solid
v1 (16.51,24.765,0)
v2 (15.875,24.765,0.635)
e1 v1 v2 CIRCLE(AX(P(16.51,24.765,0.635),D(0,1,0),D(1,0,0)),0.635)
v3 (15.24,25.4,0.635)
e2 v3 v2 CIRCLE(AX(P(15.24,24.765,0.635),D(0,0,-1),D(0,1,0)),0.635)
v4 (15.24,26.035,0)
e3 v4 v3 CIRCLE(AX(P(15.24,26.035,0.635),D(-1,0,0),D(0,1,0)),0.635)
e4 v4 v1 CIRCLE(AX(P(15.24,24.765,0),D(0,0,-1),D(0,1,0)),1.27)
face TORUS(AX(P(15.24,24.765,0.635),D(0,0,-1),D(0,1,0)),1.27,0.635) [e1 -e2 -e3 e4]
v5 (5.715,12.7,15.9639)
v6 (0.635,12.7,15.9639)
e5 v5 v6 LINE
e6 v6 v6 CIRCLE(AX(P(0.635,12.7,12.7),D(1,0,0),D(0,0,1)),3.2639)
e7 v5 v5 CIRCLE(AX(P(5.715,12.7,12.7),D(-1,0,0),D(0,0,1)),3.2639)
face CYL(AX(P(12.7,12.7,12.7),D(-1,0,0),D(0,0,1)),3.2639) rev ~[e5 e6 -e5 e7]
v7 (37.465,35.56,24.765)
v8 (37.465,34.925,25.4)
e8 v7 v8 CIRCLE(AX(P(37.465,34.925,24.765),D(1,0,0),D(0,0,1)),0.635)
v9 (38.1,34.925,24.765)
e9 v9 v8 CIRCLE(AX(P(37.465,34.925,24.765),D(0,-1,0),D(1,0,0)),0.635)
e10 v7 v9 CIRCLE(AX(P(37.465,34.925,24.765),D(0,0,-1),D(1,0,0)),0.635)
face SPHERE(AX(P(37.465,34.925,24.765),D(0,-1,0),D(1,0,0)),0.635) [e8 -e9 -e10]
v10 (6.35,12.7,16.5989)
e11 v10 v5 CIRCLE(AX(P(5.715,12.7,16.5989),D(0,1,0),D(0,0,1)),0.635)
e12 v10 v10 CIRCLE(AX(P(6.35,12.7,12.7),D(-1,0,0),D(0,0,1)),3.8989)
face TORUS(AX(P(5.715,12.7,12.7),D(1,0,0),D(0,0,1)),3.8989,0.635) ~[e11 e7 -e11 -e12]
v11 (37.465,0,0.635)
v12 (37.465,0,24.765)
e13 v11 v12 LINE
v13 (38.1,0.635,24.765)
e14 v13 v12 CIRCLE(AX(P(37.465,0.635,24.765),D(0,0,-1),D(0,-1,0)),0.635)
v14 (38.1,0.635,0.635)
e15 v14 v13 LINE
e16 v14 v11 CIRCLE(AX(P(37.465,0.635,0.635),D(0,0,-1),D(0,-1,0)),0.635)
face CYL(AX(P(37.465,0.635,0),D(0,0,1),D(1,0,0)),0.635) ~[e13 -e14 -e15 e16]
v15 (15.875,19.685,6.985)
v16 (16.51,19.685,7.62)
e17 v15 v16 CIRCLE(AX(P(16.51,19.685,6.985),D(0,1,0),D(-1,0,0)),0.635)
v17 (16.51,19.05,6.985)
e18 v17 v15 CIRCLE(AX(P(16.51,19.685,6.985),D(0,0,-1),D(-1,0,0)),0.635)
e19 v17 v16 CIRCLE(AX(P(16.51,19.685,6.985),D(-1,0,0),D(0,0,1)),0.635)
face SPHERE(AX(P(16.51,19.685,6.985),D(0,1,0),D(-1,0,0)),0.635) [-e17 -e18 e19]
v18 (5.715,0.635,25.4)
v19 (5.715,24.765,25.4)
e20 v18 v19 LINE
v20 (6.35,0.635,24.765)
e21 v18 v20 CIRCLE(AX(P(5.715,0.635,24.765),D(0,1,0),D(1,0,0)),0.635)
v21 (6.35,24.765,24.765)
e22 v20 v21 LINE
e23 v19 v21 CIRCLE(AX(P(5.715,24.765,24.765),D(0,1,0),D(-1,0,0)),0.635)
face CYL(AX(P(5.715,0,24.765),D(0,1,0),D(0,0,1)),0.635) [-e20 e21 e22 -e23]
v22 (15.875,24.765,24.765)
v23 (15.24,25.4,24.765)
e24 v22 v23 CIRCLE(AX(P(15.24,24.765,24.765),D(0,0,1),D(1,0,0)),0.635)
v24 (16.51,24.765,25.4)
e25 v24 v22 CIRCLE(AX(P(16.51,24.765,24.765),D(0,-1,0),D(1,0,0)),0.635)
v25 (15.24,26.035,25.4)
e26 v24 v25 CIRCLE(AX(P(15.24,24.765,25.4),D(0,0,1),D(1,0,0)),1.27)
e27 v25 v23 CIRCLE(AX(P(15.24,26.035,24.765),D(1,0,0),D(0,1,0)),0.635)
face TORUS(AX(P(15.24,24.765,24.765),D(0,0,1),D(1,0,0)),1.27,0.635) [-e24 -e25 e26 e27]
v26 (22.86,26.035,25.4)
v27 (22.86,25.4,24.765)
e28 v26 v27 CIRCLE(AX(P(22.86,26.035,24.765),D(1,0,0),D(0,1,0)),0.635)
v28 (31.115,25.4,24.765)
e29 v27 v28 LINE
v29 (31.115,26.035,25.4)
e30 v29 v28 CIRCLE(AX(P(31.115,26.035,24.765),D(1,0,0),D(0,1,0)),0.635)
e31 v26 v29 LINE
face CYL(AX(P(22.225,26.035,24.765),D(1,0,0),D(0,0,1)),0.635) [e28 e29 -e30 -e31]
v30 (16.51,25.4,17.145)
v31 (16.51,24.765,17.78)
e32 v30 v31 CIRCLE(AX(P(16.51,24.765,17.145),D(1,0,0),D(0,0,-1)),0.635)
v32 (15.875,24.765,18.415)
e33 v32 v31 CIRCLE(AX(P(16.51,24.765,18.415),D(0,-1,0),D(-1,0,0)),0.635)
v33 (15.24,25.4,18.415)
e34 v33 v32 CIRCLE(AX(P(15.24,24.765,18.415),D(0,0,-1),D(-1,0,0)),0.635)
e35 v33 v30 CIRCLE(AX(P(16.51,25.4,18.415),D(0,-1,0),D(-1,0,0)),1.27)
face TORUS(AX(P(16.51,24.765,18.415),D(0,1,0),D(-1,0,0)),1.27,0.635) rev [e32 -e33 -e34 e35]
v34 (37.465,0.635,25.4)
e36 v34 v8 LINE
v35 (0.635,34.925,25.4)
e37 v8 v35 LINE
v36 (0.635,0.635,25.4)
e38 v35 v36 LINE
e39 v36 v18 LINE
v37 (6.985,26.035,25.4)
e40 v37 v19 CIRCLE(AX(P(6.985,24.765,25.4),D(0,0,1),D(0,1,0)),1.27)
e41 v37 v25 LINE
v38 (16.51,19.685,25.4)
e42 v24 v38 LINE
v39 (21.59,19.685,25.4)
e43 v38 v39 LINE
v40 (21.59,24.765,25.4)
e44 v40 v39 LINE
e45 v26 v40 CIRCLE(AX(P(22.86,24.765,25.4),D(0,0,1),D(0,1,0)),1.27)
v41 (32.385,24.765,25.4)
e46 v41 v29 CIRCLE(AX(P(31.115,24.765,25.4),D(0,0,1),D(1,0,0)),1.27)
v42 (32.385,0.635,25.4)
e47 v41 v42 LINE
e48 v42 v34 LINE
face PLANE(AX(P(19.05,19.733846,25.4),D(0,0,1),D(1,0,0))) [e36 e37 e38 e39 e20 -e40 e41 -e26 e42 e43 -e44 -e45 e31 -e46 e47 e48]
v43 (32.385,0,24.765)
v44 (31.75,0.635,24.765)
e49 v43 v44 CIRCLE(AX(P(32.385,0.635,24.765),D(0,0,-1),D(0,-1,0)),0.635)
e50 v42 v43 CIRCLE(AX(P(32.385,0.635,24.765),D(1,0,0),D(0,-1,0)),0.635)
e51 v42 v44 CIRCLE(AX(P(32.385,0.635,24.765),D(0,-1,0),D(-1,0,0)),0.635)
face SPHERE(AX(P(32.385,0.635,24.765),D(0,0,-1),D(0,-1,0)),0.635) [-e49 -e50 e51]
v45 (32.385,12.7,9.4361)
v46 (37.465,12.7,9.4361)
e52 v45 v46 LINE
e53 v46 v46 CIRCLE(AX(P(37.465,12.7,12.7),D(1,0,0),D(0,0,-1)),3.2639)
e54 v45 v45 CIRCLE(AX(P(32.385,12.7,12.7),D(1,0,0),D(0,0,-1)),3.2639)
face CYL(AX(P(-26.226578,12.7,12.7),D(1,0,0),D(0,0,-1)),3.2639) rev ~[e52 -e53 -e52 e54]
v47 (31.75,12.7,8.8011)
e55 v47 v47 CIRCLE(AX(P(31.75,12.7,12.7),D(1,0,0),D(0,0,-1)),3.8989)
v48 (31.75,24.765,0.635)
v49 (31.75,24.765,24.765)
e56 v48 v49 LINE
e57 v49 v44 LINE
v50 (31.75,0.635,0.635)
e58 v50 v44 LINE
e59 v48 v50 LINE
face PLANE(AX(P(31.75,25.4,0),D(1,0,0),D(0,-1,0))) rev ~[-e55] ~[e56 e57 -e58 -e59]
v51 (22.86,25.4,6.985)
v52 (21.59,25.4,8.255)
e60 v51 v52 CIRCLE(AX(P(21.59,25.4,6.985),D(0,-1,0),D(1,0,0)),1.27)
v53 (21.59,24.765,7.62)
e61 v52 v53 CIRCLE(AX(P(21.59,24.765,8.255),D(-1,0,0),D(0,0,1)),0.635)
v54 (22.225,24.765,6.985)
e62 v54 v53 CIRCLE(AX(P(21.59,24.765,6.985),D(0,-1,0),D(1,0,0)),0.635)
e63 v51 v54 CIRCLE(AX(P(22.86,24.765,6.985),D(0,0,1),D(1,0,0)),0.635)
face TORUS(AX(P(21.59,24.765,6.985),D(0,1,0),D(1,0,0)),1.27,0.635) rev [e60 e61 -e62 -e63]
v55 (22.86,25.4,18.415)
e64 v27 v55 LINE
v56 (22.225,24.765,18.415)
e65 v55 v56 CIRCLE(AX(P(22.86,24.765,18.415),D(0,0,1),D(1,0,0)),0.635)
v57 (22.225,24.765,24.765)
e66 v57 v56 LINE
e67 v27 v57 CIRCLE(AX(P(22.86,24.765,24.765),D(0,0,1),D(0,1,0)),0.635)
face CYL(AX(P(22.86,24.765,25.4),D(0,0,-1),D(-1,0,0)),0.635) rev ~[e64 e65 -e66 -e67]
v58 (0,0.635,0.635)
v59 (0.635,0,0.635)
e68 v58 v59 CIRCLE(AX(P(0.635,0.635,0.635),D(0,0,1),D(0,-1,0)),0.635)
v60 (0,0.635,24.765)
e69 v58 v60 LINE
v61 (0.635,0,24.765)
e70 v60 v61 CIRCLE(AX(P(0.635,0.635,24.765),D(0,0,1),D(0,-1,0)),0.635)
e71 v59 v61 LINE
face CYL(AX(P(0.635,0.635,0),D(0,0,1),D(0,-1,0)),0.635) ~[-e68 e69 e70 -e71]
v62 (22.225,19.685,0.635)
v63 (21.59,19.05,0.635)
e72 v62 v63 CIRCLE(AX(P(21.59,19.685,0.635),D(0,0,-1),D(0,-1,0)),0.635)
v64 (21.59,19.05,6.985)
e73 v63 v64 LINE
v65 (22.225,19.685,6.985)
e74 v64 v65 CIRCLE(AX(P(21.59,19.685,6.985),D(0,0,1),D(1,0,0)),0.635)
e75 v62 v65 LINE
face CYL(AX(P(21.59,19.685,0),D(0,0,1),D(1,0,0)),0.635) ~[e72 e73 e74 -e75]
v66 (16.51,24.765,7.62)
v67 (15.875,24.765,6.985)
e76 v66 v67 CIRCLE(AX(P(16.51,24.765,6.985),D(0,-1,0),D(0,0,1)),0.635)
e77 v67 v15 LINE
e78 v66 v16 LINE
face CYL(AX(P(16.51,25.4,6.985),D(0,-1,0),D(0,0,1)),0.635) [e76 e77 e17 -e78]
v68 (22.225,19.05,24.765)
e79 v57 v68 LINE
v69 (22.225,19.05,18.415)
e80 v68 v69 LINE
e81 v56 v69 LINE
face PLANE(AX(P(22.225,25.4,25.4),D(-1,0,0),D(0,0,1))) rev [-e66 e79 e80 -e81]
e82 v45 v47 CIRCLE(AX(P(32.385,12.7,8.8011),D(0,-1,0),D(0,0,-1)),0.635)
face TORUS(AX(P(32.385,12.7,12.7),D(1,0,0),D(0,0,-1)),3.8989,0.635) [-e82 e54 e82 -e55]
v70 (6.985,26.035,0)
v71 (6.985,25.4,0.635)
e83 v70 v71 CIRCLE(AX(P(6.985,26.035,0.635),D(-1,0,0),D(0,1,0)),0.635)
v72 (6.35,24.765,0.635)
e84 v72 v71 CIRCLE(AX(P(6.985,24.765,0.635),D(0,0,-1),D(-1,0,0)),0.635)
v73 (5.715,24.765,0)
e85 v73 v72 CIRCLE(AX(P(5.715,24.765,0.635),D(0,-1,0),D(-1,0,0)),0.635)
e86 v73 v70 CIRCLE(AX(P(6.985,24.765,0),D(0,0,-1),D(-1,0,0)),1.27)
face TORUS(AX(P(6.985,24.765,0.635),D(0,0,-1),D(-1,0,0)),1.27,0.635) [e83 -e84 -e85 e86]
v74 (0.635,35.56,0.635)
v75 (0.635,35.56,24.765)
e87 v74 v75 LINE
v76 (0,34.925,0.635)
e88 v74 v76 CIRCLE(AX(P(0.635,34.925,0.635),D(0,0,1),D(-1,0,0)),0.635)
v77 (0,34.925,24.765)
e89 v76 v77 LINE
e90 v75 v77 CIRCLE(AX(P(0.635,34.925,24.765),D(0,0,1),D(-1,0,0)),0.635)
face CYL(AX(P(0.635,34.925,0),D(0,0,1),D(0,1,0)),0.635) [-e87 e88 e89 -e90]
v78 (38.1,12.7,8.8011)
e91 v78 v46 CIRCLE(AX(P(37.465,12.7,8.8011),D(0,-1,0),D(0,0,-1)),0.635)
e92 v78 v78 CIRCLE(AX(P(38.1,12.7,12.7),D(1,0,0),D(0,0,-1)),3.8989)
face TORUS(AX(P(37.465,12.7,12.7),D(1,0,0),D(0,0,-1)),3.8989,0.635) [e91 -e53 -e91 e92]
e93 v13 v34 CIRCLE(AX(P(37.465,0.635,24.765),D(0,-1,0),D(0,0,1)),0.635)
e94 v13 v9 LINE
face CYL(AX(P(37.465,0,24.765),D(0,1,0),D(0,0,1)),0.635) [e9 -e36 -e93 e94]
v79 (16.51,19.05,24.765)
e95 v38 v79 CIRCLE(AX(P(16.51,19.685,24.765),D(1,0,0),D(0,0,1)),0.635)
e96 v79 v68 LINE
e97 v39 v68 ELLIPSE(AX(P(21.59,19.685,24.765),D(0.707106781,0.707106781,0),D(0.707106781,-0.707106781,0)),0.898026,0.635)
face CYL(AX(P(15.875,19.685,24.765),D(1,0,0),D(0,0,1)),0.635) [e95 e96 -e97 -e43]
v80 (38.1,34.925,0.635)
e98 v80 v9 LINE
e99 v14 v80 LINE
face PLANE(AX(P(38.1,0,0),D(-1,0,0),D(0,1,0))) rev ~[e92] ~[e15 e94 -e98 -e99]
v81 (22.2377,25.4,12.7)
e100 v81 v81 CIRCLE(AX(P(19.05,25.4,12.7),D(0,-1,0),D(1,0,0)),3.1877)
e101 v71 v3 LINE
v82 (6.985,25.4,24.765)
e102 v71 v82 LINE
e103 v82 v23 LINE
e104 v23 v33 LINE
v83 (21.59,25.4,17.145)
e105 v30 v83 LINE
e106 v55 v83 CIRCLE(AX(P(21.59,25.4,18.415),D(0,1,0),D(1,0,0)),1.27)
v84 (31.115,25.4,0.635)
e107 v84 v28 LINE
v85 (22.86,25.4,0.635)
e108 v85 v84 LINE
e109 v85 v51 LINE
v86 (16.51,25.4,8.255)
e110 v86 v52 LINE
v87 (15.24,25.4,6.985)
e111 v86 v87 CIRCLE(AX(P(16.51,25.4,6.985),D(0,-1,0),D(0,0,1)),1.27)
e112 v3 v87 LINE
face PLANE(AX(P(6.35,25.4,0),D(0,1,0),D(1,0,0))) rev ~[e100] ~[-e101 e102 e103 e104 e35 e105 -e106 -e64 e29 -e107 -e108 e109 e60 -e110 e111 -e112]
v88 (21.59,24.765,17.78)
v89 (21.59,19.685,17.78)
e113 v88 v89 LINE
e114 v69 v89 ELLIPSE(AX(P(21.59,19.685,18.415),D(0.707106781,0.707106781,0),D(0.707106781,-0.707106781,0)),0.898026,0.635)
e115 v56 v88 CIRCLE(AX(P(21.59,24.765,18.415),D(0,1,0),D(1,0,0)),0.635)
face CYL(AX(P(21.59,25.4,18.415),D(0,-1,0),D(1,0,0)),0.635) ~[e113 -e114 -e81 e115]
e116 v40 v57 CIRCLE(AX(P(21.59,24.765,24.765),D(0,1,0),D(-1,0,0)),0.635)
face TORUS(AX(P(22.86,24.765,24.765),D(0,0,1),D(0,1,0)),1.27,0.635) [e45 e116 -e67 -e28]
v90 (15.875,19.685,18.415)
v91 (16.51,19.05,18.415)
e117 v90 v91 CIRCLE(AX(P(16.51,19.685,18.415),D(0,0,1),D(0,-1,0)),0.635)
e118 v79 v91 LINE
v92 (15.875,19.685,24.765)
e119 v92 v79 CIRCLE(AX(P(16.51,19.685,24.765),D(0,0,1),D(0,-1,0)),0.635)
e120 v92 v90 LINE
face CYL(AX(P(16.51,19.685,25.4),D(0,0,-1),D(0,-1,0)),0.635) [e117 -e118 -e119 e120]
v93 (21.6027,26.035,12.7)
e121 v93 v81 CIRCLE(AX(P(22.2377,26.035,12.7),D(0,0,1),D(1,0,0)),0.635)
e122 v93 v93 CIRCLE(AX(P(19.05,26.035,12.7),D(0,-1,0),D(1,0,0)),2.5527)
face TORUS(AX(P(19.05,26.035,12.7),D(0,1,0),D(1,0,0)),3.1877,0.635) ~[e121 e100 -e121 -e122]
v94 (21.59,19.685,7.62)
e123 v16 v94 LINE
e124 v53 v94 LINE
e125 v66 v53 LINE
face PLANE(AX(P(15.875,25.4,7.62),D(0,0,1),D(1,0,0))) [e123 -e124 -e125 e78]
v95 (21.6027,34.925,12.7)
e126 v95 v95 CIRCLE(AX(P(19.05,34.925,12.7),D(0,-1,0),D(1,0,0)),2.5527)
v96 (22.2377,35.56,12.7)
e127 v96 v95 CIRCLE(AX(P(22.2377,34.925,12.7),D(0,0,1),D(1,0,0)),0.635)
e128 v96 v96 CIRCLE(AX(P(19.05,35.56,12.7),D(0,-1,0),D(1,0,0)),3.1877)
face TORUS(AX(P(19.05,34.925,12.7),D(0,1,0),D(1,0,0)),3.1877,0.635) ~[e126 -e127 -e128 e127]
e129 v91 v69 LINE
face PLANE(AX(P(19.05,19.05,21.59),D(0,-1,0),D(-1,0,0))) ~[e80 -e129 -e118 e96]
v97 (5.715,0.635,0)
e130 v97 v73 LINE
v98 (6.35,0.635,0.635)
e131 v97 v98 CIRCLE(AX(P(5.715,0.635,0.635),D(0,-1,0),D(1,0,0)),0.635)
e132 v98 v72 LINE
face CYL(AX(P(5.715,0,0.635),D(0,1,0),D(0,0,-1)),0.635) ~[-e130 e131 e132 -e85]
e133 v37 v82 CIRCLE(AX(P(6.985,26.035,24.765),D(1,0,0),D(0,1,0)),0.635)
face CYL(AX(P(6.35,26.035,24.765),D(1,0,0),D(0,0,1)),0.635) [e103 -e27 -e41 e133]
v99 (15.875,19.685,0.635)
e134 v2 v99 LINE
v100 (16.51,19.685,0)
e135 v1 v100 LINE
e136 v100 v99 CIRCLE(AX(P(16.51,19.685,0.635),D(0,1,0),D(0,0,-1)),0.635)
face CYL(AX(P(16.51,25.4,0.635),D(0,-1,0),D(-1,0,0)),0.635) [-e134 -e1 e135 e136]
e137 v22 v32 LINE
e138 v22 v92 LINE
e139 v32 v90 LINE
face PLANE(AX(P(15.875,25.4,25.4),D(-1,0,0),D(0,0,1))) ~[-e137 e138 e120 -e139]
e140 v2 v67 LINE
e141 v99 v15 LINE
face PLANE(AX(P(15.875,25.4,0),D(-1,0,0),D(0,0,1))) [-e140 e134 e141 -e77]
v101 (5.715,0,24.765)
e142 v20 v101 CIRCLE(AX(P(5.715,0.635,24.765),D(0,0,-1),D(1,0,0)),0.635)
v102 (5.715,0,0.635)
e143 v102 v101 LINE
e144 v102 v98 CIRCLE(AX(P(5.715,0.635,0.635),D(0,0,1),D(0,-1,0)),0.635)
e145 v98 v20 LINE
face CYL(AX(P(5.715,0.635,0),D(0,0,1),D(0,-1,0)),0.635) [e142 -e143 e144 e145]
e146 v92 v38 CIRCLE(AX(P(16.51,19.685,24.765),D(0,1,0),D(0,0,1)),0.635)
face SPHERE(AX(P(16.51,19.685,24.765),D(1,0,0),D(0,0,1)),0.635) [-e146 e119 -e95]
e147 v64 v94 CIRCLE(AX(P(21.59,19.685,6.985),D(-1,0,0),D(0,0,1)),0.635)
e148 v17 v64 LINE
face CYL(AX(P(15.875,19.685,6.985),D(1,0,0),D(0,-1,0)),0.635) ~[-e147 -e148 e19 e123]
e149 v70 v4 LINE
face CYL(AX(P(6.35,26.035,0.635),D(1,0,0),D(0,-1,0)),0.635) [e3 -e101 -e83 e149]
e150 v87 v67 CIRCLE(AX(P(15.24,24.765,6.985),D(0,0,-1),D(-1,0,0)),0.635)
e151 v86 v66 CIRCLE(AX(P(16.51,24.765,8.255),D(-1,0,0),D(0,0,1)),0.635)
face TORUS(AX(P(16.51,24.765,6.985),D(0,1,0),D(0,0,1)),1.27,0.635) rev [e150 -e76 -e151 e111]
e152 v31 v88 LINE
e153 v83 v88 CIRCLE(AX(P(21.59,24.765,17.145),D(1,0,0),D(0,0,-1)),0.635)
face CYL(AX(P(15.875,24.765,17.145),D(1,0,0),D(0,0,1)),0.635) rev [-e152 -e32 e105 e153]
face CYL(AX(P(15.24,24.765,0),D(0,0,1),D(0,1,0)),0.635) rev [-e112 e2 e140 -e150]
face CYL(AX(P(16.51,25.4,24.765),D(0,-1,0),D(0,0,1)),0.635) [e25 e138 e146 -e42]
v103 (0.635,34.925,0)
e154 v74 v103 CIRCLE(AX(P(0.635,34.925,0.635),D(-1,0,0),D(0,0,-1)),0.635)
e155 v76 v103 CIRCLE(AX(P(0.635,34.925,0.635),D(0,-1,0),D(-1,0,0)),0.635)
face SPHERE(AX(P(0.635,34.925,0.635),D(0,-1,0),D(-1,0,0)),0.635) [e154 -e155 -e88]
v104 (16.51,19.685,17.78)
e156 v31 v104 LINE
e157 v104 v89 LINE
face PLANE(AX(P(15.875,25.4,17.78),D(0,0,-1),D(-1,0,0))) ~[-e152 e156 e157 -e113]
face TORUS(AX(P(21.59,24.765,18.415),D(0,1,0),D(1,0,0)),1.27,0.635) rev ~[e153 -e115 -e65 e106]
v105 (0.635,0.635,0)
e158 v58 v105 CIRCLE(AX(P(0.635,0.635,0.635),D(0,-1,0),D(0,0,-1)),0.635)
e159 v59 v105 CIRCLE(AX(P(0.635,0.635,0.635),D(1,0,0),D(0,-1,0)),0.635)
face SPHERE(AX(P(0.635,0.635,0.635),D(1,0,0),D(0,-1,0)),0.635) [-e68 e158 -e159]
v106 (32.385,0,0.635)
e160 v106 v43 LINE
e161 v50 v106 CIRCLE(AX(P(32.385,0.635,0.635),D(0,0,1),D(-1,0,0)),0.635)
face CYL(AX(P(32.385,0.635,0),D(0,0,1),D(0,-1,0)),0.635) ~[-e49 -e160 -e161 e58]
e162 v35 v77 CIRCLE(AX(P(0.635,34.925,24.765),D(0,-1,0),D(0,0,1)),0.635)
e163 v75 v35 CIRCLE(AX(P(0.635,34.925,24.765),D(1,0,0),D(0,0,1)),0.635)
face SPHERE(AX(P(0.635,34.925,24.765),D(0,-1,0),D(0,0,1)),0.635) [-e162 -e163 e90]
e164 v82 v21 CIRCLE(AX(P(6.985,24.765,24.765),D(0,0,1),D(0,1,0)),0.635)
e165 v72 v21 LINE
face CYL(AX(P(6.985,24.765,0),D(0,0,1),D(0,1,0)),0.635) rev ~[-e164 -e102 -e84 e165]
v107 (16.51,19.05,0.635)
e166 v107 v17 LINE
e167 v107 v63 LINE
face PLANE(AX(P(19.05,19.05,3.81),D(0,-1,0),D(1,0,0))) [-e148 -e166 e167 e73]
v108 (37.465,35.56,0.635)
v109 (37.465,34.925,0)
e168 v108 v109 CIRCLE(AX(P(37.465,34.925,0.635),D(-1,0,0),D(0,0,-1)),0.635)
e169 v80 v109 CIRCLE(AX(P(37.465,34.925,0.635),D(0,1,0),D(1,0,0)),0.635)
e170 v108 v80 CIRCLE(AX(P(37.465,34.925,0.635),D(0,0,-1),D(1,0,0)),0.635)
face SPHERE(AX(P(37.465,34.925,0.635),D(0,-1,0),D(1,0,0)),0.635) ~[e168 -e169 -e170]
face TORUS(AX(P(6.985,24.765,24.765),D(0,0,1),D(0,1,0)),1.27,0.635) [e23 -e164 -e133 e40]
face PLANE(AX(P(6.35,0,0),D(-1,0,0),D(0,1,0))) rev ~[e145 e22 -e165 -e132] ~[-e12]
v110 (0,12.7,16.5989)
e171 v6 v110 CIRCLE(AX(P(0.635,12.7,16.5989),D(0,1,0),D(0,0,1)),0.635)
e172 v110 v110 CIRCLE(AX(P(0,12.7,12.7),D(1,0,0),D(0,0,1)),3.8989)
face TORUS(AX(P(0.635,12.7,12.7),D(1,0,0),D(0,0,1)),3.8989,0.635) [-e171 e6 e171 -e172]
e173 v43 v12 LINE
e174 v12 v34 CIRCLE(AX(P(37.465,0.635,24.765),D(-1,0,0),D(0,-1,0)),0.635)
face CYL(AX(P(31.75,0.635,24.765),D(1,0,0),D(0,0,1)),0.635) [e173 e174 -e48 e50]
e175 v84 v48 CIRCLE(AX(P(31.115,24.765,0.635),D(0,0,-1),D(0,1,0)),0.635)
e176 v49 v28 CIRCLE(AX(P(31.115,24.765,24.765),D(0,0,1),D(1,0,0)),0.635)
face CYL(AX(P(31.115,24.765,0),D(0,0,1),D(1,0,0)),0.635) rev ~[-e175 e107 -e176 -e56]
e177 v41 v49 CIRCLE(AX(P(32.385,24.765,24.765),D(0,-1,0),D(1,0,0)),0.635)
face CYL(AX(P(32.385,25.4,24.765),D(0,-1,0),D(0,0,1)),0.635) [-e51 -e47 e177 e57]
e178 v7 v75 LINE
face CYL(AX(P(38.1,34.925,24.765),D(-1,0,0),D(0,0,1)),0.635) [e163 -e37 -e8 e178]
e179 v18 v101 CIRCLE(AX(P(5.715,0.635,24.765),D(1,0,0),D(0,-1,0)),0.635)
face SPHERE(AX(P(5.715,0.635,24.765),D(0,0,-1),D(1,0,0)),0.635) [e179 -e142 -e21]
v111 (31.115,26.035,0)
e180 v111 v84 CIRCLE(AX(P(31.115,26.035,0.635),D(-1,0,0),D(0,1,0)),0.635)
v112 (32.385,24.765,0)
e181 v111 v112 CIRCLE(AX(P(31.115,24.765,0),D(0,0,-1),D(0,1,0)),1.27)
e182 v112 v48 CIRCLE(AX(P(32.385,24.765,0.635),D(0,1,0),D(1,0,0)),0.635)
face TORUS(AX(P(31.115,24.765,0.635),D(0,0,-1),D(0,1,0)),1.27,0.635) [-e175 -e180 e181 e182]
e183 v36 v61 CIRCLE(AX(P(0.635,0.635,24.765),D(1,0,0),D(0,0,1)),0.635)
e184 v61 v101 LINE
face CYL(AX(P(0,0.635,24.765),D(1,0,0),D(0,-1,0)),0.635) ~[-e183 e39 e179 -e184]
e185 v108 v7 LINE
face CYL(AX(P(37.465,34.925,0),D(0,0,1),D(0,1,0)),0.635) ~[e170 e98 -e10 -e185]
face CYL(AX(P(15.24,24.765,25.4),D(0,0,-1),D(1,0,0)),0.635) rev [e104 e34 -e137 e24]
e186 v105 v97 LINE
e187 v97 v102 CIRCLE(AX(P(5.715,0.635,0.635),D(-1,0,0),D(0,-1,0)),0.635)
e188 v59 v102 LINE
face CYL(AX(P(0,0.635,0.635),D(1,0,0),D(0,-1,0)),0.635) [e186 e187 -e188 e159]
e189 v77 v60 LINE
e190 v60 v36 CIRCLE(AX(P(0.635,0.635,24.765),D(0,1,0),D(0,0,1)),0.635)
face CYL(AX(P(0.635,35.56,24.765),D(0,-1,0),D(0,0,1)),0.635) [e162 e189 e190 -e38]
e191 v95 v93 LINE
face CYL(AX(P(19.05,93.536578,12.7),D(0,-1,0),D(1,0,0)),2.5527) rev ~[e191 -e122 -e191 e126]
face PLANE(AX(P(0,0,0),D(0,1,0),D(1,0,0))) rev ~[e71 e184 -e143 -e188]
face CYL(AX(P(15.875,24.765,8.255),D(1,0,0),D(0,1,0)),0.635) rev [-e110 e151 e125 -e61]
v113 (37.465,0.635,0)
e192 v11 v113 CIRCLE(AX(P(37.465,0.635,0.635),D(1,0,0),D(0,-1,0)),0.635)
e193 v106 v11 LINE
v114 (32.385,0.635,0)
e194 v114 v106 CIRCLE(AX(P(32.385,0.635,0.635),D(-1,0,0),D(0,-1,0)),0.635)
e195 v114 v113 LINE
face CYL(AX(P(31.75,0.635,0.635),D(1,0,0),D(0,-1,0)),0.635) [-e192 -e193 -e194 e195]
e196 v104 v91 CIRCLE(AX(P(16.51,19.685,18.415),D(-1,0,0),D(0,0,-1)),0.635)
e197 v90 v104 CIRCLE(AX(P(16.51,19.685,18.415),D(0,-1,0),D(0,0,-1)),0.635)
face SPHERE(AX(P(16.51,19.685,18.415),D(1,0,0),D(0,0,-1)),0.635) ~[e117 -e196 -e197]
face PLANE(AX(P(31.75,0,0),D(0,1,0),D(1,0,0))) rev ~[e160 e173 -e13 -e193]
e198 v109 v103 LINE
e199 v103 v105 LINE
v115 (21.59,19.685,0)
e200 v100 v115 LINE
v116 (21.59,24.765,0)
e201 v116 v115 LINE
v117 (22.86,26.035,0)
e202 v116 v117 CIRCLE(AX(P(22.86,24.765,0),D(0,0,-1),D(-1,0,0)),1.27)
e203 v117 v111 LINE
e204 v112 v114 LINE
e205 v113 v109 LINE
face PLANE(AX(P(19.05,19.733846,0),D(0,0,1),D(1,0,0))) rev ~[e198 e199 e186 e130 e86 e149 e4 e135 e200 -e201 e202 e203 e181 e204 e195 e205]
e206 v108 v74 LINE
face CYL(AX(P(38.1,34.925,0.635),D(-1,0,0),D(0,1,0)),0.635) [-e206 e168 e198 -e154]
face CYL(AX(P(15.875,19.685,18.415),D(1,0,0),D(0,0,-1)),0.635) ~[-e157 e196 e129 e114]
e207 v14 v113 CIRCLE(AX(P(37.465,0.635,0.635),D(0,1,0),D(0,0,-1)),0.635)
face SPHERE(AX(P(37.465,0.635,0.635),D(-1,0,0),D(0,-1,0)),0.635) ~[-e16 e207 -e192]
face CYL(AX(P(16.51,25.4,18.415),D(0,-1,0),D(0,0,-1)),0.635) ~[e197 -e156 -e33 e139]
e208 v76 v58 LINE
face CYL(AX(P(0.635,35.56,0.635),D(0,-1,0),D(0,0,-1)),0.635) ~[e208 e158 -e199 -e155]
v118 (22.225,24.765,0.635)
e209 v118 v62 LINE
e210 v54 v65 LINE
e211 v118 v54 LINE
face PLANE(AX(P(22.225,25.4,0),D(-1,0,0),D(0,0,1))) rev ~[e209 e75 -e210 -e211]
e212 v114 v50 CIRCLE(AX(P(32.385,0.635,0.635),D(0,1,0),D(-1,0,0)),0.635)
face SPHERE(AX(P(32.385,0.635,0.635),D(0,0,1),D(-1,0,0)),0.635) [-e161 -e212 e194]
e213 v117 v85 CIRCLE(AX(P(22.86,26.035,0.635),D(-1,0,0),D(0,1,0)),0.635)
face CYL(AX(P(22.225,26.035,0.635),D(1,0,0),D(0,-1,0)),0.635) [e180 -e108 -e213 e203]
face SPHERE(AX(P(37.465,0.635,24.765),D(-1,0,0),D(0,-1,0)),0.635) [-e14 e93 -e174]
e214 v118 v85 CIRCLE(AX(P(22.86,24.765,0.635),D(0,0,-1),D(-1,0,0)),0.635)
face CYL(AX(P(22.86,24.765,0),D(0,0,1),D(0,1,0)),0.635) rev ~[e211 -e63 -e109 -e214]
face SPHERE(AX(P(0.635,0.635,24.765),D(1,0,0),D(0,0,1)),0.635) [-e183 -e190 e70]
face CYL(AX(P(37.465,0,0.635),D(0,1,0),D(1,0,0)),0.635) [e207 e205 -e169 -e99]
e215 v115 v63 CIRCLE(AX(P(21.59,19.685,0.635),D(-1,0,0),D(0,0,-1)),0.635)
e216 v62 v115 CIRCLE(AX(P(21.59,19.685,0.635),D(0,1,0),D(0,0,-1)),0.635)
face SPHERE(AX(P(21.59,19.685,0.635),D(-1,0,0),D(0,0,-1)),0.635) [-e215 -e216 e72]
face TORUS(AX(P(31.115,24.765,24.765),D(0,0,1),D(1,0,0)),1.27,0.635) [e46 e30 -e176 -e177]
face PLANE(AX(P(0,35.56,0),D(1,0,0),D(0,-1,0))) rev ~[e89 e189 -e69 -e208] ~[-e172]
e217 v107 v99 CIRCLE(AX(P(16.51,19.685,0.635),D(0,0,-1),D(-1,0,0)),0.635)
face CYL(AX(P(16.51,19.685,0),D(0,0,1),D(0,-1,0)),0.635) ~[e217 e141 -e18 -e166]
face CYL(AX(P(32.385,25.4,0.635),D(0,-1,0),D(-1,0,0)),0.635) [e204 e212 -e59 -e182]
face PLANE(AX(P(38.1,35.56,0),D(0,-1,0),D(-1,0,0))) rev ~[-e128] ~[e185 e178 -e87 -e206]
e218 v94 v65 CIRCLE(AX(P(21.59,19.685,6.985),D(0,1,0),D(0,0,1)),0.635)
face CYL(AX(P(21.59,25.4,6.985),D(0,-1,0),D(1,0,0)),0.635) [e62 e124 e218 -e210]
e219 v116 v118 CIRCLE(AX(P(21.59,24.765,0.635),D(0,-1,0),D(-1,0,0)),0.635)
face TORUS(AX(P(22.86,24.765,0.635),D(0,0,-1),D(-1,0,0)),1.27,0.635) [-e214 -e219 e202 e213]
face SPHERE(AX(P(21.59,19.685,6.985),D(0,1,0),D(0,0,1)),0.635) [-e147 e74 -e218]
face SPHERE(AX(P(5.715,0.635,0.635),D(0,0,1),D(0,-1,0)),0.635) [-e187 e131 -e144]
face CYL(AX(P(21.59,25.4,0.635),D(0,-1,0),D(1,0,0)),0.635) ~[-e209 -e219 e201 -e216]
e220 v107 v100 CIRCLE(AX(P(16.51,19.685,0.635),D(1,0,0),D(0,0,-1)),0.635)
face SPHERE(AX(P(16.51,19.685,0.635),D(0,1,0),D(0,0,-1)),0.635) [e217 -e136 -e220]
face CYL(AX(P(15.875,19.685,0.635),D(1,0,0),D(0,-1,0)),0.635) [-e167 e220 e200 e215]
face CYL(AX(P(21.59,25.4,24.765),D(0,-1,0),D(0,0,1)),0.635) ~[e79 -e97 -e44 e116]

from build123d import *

# Parameters (mm, degrees)
BOSS_EXTRUDE1_DEPTH              = 25.4
SKETCH2_W                        = 6.35
SKETCH2_H                        = 7.62
BOSS_EXTRUDE2_DEPTH              = 6.35
F_1_4_20_TAPPED_HOLE1_D          = 5.1054
F_97_0_0059_DIAMETER_HOLE1_D     = 6.5278
F_97_0_0059_DIAMETER_HOLE1_DEPTH = 6.35
F_97_0_0059_DIAMETER_HOLE2_D     = 6.5278
FILLET2_R                        = 0.635


with BuildPart() as part:
    # Sketch1 → Boss-Extrude1 (new body)
    with BuildSketch(Plane.XY):
        Polygon((0, 0), (6.35, 0), (6.35, 25.4), (31.75, 25.4), (31.75, 0), (38.1, 0), (38.1, 35.56), (0, 35.56), align=None)
    extrude(amount=BOSS_EXTRUDE1_DEPTH)

    # Sketch2 → Boss-Extrude2 (add)
    with BuildSketch(Plane.XZ.offset(-25.4)):
        with Locations((19.05, 3.81)):
            Rectangle(SKETCH2_W, SKETCH2_H)
    boss_extrude2 = extrude(amount=BOSS_EXTRUDE2_DEPTH)

    # Mirror1: Boss-Extrude2 across plane
    add(boss_extrude2.mirror(Plane.XY.offset(12.7)))

    # 1/4-20 Tapped Hole1 (through all)
    with Locations(Plane(origin=(0, 35.56, 0), x_dir=(-1, 0, 0), z_dir=(0, 1, 0))):
        with Locations((-19.05, 12.7)):
            Hole(F_1_4_20_TAPPED_HOLE1_D / 2)

    # #97 (0.0059) Diameter Hole1
    with Locations(Plane(origin=(6.35, 0, 0), x_dir=(0, 0, -1), z_dir=(1, 0, 0))):
        with Locations((-12.7, 12.7)):
            Hole(F_97_0_0059_DIAMETER_HOLE1_D / 2, depth=F_97_0_0059_DIAMETER_HOLE1_DEPTH)

    # #97 (0.0059) Diameter Hole2 (through all)
    with Locations(Plane.ZY.offset(-31.75)):
        with Locations((12.7, 12.7)):
            Hole(F_97_0_0059_DIAMETER_HOLE2_D / 2)

    # Fillet2
    fillet2_edges = [part.edges().sort_by_distance(p)[0] for p in [
        (31.75, 0, 12.7),
        (31.75, 12.7, 15.9639),
        (6.35, 0, 12.7),
        (6.35, 12.7, 9.4361),
        (22.225, 25.4, 21.59),
        (31.75, 25.4, 12.7),
        (22.225, 25.4, 3.81),
        (19.05, 25.4, 7.62),
        (15.875, 25.4, 3.81),
        (6.35, 25.4, 12.7),
        (15.875, 25.4, 21.59),
        (19.05, 25.4, 17.78),
        (16.4973, 25.4, 12.7),
        (34.925, 0, 25.4),
        (31.75, 12.7, 25.4),
        (26.9875, 25.4, 25.4),
        (22.225, 22.225, 25.4),
        (22.225, 22.225, 17.78),
        (19.05, 19.05, 17.78),
        (19.05, 19.05, 25.4),
        (15.875, 22.225, 17.78),
        (15.875, 22.225, 25.4),
        (11.1125, 25.4, 25.4),
        (6.35, 12.7, 25.4),
        (3.175, 0, 25.4),
        (3.175, 0, 0),
        (6.35, 12.7, 0),
        (11.1125, 25.4, 0),
        (15.875, 22.225, 0),
        (19.05, 19.05, 0),
        (22.225, 22.225, 0),
        (26.9875, 25.4, 0),
        (31.75, 12.7, 0),
        (34.925, 0, 0),
        (0, 17.78, 25.4),
        (0, 0, 12.7),
        (0, 17.78, 0),
        (0, 12.7, 9.4361),
        (38.1, 0, 12.7),
        (38.1, 17.78, 25.4),
        (38.1, 17.78, 0),
        (38.1, 12.7, 15.9639),
        (38.1, 35.56, 12.7),
        (19.05, 35.56, 25.4),
        (0, 35.56, 12.7),
        (19.05, 35.56, 0),
        (16.4973, 35.56, 12.7),
        (22.225, 22.225, 7.62),
        (15.875, 22.225, 7.62),
        (15.875, 19.05, 3.81),
        (19.05, 19.05, 7.62),
        (22.225, 19.05, 3.81),
        (15.875, 19.05, 21.59),
    ]]
    fillet(fillet2_edges, radius=FILLET2_R)


solid = part.part
